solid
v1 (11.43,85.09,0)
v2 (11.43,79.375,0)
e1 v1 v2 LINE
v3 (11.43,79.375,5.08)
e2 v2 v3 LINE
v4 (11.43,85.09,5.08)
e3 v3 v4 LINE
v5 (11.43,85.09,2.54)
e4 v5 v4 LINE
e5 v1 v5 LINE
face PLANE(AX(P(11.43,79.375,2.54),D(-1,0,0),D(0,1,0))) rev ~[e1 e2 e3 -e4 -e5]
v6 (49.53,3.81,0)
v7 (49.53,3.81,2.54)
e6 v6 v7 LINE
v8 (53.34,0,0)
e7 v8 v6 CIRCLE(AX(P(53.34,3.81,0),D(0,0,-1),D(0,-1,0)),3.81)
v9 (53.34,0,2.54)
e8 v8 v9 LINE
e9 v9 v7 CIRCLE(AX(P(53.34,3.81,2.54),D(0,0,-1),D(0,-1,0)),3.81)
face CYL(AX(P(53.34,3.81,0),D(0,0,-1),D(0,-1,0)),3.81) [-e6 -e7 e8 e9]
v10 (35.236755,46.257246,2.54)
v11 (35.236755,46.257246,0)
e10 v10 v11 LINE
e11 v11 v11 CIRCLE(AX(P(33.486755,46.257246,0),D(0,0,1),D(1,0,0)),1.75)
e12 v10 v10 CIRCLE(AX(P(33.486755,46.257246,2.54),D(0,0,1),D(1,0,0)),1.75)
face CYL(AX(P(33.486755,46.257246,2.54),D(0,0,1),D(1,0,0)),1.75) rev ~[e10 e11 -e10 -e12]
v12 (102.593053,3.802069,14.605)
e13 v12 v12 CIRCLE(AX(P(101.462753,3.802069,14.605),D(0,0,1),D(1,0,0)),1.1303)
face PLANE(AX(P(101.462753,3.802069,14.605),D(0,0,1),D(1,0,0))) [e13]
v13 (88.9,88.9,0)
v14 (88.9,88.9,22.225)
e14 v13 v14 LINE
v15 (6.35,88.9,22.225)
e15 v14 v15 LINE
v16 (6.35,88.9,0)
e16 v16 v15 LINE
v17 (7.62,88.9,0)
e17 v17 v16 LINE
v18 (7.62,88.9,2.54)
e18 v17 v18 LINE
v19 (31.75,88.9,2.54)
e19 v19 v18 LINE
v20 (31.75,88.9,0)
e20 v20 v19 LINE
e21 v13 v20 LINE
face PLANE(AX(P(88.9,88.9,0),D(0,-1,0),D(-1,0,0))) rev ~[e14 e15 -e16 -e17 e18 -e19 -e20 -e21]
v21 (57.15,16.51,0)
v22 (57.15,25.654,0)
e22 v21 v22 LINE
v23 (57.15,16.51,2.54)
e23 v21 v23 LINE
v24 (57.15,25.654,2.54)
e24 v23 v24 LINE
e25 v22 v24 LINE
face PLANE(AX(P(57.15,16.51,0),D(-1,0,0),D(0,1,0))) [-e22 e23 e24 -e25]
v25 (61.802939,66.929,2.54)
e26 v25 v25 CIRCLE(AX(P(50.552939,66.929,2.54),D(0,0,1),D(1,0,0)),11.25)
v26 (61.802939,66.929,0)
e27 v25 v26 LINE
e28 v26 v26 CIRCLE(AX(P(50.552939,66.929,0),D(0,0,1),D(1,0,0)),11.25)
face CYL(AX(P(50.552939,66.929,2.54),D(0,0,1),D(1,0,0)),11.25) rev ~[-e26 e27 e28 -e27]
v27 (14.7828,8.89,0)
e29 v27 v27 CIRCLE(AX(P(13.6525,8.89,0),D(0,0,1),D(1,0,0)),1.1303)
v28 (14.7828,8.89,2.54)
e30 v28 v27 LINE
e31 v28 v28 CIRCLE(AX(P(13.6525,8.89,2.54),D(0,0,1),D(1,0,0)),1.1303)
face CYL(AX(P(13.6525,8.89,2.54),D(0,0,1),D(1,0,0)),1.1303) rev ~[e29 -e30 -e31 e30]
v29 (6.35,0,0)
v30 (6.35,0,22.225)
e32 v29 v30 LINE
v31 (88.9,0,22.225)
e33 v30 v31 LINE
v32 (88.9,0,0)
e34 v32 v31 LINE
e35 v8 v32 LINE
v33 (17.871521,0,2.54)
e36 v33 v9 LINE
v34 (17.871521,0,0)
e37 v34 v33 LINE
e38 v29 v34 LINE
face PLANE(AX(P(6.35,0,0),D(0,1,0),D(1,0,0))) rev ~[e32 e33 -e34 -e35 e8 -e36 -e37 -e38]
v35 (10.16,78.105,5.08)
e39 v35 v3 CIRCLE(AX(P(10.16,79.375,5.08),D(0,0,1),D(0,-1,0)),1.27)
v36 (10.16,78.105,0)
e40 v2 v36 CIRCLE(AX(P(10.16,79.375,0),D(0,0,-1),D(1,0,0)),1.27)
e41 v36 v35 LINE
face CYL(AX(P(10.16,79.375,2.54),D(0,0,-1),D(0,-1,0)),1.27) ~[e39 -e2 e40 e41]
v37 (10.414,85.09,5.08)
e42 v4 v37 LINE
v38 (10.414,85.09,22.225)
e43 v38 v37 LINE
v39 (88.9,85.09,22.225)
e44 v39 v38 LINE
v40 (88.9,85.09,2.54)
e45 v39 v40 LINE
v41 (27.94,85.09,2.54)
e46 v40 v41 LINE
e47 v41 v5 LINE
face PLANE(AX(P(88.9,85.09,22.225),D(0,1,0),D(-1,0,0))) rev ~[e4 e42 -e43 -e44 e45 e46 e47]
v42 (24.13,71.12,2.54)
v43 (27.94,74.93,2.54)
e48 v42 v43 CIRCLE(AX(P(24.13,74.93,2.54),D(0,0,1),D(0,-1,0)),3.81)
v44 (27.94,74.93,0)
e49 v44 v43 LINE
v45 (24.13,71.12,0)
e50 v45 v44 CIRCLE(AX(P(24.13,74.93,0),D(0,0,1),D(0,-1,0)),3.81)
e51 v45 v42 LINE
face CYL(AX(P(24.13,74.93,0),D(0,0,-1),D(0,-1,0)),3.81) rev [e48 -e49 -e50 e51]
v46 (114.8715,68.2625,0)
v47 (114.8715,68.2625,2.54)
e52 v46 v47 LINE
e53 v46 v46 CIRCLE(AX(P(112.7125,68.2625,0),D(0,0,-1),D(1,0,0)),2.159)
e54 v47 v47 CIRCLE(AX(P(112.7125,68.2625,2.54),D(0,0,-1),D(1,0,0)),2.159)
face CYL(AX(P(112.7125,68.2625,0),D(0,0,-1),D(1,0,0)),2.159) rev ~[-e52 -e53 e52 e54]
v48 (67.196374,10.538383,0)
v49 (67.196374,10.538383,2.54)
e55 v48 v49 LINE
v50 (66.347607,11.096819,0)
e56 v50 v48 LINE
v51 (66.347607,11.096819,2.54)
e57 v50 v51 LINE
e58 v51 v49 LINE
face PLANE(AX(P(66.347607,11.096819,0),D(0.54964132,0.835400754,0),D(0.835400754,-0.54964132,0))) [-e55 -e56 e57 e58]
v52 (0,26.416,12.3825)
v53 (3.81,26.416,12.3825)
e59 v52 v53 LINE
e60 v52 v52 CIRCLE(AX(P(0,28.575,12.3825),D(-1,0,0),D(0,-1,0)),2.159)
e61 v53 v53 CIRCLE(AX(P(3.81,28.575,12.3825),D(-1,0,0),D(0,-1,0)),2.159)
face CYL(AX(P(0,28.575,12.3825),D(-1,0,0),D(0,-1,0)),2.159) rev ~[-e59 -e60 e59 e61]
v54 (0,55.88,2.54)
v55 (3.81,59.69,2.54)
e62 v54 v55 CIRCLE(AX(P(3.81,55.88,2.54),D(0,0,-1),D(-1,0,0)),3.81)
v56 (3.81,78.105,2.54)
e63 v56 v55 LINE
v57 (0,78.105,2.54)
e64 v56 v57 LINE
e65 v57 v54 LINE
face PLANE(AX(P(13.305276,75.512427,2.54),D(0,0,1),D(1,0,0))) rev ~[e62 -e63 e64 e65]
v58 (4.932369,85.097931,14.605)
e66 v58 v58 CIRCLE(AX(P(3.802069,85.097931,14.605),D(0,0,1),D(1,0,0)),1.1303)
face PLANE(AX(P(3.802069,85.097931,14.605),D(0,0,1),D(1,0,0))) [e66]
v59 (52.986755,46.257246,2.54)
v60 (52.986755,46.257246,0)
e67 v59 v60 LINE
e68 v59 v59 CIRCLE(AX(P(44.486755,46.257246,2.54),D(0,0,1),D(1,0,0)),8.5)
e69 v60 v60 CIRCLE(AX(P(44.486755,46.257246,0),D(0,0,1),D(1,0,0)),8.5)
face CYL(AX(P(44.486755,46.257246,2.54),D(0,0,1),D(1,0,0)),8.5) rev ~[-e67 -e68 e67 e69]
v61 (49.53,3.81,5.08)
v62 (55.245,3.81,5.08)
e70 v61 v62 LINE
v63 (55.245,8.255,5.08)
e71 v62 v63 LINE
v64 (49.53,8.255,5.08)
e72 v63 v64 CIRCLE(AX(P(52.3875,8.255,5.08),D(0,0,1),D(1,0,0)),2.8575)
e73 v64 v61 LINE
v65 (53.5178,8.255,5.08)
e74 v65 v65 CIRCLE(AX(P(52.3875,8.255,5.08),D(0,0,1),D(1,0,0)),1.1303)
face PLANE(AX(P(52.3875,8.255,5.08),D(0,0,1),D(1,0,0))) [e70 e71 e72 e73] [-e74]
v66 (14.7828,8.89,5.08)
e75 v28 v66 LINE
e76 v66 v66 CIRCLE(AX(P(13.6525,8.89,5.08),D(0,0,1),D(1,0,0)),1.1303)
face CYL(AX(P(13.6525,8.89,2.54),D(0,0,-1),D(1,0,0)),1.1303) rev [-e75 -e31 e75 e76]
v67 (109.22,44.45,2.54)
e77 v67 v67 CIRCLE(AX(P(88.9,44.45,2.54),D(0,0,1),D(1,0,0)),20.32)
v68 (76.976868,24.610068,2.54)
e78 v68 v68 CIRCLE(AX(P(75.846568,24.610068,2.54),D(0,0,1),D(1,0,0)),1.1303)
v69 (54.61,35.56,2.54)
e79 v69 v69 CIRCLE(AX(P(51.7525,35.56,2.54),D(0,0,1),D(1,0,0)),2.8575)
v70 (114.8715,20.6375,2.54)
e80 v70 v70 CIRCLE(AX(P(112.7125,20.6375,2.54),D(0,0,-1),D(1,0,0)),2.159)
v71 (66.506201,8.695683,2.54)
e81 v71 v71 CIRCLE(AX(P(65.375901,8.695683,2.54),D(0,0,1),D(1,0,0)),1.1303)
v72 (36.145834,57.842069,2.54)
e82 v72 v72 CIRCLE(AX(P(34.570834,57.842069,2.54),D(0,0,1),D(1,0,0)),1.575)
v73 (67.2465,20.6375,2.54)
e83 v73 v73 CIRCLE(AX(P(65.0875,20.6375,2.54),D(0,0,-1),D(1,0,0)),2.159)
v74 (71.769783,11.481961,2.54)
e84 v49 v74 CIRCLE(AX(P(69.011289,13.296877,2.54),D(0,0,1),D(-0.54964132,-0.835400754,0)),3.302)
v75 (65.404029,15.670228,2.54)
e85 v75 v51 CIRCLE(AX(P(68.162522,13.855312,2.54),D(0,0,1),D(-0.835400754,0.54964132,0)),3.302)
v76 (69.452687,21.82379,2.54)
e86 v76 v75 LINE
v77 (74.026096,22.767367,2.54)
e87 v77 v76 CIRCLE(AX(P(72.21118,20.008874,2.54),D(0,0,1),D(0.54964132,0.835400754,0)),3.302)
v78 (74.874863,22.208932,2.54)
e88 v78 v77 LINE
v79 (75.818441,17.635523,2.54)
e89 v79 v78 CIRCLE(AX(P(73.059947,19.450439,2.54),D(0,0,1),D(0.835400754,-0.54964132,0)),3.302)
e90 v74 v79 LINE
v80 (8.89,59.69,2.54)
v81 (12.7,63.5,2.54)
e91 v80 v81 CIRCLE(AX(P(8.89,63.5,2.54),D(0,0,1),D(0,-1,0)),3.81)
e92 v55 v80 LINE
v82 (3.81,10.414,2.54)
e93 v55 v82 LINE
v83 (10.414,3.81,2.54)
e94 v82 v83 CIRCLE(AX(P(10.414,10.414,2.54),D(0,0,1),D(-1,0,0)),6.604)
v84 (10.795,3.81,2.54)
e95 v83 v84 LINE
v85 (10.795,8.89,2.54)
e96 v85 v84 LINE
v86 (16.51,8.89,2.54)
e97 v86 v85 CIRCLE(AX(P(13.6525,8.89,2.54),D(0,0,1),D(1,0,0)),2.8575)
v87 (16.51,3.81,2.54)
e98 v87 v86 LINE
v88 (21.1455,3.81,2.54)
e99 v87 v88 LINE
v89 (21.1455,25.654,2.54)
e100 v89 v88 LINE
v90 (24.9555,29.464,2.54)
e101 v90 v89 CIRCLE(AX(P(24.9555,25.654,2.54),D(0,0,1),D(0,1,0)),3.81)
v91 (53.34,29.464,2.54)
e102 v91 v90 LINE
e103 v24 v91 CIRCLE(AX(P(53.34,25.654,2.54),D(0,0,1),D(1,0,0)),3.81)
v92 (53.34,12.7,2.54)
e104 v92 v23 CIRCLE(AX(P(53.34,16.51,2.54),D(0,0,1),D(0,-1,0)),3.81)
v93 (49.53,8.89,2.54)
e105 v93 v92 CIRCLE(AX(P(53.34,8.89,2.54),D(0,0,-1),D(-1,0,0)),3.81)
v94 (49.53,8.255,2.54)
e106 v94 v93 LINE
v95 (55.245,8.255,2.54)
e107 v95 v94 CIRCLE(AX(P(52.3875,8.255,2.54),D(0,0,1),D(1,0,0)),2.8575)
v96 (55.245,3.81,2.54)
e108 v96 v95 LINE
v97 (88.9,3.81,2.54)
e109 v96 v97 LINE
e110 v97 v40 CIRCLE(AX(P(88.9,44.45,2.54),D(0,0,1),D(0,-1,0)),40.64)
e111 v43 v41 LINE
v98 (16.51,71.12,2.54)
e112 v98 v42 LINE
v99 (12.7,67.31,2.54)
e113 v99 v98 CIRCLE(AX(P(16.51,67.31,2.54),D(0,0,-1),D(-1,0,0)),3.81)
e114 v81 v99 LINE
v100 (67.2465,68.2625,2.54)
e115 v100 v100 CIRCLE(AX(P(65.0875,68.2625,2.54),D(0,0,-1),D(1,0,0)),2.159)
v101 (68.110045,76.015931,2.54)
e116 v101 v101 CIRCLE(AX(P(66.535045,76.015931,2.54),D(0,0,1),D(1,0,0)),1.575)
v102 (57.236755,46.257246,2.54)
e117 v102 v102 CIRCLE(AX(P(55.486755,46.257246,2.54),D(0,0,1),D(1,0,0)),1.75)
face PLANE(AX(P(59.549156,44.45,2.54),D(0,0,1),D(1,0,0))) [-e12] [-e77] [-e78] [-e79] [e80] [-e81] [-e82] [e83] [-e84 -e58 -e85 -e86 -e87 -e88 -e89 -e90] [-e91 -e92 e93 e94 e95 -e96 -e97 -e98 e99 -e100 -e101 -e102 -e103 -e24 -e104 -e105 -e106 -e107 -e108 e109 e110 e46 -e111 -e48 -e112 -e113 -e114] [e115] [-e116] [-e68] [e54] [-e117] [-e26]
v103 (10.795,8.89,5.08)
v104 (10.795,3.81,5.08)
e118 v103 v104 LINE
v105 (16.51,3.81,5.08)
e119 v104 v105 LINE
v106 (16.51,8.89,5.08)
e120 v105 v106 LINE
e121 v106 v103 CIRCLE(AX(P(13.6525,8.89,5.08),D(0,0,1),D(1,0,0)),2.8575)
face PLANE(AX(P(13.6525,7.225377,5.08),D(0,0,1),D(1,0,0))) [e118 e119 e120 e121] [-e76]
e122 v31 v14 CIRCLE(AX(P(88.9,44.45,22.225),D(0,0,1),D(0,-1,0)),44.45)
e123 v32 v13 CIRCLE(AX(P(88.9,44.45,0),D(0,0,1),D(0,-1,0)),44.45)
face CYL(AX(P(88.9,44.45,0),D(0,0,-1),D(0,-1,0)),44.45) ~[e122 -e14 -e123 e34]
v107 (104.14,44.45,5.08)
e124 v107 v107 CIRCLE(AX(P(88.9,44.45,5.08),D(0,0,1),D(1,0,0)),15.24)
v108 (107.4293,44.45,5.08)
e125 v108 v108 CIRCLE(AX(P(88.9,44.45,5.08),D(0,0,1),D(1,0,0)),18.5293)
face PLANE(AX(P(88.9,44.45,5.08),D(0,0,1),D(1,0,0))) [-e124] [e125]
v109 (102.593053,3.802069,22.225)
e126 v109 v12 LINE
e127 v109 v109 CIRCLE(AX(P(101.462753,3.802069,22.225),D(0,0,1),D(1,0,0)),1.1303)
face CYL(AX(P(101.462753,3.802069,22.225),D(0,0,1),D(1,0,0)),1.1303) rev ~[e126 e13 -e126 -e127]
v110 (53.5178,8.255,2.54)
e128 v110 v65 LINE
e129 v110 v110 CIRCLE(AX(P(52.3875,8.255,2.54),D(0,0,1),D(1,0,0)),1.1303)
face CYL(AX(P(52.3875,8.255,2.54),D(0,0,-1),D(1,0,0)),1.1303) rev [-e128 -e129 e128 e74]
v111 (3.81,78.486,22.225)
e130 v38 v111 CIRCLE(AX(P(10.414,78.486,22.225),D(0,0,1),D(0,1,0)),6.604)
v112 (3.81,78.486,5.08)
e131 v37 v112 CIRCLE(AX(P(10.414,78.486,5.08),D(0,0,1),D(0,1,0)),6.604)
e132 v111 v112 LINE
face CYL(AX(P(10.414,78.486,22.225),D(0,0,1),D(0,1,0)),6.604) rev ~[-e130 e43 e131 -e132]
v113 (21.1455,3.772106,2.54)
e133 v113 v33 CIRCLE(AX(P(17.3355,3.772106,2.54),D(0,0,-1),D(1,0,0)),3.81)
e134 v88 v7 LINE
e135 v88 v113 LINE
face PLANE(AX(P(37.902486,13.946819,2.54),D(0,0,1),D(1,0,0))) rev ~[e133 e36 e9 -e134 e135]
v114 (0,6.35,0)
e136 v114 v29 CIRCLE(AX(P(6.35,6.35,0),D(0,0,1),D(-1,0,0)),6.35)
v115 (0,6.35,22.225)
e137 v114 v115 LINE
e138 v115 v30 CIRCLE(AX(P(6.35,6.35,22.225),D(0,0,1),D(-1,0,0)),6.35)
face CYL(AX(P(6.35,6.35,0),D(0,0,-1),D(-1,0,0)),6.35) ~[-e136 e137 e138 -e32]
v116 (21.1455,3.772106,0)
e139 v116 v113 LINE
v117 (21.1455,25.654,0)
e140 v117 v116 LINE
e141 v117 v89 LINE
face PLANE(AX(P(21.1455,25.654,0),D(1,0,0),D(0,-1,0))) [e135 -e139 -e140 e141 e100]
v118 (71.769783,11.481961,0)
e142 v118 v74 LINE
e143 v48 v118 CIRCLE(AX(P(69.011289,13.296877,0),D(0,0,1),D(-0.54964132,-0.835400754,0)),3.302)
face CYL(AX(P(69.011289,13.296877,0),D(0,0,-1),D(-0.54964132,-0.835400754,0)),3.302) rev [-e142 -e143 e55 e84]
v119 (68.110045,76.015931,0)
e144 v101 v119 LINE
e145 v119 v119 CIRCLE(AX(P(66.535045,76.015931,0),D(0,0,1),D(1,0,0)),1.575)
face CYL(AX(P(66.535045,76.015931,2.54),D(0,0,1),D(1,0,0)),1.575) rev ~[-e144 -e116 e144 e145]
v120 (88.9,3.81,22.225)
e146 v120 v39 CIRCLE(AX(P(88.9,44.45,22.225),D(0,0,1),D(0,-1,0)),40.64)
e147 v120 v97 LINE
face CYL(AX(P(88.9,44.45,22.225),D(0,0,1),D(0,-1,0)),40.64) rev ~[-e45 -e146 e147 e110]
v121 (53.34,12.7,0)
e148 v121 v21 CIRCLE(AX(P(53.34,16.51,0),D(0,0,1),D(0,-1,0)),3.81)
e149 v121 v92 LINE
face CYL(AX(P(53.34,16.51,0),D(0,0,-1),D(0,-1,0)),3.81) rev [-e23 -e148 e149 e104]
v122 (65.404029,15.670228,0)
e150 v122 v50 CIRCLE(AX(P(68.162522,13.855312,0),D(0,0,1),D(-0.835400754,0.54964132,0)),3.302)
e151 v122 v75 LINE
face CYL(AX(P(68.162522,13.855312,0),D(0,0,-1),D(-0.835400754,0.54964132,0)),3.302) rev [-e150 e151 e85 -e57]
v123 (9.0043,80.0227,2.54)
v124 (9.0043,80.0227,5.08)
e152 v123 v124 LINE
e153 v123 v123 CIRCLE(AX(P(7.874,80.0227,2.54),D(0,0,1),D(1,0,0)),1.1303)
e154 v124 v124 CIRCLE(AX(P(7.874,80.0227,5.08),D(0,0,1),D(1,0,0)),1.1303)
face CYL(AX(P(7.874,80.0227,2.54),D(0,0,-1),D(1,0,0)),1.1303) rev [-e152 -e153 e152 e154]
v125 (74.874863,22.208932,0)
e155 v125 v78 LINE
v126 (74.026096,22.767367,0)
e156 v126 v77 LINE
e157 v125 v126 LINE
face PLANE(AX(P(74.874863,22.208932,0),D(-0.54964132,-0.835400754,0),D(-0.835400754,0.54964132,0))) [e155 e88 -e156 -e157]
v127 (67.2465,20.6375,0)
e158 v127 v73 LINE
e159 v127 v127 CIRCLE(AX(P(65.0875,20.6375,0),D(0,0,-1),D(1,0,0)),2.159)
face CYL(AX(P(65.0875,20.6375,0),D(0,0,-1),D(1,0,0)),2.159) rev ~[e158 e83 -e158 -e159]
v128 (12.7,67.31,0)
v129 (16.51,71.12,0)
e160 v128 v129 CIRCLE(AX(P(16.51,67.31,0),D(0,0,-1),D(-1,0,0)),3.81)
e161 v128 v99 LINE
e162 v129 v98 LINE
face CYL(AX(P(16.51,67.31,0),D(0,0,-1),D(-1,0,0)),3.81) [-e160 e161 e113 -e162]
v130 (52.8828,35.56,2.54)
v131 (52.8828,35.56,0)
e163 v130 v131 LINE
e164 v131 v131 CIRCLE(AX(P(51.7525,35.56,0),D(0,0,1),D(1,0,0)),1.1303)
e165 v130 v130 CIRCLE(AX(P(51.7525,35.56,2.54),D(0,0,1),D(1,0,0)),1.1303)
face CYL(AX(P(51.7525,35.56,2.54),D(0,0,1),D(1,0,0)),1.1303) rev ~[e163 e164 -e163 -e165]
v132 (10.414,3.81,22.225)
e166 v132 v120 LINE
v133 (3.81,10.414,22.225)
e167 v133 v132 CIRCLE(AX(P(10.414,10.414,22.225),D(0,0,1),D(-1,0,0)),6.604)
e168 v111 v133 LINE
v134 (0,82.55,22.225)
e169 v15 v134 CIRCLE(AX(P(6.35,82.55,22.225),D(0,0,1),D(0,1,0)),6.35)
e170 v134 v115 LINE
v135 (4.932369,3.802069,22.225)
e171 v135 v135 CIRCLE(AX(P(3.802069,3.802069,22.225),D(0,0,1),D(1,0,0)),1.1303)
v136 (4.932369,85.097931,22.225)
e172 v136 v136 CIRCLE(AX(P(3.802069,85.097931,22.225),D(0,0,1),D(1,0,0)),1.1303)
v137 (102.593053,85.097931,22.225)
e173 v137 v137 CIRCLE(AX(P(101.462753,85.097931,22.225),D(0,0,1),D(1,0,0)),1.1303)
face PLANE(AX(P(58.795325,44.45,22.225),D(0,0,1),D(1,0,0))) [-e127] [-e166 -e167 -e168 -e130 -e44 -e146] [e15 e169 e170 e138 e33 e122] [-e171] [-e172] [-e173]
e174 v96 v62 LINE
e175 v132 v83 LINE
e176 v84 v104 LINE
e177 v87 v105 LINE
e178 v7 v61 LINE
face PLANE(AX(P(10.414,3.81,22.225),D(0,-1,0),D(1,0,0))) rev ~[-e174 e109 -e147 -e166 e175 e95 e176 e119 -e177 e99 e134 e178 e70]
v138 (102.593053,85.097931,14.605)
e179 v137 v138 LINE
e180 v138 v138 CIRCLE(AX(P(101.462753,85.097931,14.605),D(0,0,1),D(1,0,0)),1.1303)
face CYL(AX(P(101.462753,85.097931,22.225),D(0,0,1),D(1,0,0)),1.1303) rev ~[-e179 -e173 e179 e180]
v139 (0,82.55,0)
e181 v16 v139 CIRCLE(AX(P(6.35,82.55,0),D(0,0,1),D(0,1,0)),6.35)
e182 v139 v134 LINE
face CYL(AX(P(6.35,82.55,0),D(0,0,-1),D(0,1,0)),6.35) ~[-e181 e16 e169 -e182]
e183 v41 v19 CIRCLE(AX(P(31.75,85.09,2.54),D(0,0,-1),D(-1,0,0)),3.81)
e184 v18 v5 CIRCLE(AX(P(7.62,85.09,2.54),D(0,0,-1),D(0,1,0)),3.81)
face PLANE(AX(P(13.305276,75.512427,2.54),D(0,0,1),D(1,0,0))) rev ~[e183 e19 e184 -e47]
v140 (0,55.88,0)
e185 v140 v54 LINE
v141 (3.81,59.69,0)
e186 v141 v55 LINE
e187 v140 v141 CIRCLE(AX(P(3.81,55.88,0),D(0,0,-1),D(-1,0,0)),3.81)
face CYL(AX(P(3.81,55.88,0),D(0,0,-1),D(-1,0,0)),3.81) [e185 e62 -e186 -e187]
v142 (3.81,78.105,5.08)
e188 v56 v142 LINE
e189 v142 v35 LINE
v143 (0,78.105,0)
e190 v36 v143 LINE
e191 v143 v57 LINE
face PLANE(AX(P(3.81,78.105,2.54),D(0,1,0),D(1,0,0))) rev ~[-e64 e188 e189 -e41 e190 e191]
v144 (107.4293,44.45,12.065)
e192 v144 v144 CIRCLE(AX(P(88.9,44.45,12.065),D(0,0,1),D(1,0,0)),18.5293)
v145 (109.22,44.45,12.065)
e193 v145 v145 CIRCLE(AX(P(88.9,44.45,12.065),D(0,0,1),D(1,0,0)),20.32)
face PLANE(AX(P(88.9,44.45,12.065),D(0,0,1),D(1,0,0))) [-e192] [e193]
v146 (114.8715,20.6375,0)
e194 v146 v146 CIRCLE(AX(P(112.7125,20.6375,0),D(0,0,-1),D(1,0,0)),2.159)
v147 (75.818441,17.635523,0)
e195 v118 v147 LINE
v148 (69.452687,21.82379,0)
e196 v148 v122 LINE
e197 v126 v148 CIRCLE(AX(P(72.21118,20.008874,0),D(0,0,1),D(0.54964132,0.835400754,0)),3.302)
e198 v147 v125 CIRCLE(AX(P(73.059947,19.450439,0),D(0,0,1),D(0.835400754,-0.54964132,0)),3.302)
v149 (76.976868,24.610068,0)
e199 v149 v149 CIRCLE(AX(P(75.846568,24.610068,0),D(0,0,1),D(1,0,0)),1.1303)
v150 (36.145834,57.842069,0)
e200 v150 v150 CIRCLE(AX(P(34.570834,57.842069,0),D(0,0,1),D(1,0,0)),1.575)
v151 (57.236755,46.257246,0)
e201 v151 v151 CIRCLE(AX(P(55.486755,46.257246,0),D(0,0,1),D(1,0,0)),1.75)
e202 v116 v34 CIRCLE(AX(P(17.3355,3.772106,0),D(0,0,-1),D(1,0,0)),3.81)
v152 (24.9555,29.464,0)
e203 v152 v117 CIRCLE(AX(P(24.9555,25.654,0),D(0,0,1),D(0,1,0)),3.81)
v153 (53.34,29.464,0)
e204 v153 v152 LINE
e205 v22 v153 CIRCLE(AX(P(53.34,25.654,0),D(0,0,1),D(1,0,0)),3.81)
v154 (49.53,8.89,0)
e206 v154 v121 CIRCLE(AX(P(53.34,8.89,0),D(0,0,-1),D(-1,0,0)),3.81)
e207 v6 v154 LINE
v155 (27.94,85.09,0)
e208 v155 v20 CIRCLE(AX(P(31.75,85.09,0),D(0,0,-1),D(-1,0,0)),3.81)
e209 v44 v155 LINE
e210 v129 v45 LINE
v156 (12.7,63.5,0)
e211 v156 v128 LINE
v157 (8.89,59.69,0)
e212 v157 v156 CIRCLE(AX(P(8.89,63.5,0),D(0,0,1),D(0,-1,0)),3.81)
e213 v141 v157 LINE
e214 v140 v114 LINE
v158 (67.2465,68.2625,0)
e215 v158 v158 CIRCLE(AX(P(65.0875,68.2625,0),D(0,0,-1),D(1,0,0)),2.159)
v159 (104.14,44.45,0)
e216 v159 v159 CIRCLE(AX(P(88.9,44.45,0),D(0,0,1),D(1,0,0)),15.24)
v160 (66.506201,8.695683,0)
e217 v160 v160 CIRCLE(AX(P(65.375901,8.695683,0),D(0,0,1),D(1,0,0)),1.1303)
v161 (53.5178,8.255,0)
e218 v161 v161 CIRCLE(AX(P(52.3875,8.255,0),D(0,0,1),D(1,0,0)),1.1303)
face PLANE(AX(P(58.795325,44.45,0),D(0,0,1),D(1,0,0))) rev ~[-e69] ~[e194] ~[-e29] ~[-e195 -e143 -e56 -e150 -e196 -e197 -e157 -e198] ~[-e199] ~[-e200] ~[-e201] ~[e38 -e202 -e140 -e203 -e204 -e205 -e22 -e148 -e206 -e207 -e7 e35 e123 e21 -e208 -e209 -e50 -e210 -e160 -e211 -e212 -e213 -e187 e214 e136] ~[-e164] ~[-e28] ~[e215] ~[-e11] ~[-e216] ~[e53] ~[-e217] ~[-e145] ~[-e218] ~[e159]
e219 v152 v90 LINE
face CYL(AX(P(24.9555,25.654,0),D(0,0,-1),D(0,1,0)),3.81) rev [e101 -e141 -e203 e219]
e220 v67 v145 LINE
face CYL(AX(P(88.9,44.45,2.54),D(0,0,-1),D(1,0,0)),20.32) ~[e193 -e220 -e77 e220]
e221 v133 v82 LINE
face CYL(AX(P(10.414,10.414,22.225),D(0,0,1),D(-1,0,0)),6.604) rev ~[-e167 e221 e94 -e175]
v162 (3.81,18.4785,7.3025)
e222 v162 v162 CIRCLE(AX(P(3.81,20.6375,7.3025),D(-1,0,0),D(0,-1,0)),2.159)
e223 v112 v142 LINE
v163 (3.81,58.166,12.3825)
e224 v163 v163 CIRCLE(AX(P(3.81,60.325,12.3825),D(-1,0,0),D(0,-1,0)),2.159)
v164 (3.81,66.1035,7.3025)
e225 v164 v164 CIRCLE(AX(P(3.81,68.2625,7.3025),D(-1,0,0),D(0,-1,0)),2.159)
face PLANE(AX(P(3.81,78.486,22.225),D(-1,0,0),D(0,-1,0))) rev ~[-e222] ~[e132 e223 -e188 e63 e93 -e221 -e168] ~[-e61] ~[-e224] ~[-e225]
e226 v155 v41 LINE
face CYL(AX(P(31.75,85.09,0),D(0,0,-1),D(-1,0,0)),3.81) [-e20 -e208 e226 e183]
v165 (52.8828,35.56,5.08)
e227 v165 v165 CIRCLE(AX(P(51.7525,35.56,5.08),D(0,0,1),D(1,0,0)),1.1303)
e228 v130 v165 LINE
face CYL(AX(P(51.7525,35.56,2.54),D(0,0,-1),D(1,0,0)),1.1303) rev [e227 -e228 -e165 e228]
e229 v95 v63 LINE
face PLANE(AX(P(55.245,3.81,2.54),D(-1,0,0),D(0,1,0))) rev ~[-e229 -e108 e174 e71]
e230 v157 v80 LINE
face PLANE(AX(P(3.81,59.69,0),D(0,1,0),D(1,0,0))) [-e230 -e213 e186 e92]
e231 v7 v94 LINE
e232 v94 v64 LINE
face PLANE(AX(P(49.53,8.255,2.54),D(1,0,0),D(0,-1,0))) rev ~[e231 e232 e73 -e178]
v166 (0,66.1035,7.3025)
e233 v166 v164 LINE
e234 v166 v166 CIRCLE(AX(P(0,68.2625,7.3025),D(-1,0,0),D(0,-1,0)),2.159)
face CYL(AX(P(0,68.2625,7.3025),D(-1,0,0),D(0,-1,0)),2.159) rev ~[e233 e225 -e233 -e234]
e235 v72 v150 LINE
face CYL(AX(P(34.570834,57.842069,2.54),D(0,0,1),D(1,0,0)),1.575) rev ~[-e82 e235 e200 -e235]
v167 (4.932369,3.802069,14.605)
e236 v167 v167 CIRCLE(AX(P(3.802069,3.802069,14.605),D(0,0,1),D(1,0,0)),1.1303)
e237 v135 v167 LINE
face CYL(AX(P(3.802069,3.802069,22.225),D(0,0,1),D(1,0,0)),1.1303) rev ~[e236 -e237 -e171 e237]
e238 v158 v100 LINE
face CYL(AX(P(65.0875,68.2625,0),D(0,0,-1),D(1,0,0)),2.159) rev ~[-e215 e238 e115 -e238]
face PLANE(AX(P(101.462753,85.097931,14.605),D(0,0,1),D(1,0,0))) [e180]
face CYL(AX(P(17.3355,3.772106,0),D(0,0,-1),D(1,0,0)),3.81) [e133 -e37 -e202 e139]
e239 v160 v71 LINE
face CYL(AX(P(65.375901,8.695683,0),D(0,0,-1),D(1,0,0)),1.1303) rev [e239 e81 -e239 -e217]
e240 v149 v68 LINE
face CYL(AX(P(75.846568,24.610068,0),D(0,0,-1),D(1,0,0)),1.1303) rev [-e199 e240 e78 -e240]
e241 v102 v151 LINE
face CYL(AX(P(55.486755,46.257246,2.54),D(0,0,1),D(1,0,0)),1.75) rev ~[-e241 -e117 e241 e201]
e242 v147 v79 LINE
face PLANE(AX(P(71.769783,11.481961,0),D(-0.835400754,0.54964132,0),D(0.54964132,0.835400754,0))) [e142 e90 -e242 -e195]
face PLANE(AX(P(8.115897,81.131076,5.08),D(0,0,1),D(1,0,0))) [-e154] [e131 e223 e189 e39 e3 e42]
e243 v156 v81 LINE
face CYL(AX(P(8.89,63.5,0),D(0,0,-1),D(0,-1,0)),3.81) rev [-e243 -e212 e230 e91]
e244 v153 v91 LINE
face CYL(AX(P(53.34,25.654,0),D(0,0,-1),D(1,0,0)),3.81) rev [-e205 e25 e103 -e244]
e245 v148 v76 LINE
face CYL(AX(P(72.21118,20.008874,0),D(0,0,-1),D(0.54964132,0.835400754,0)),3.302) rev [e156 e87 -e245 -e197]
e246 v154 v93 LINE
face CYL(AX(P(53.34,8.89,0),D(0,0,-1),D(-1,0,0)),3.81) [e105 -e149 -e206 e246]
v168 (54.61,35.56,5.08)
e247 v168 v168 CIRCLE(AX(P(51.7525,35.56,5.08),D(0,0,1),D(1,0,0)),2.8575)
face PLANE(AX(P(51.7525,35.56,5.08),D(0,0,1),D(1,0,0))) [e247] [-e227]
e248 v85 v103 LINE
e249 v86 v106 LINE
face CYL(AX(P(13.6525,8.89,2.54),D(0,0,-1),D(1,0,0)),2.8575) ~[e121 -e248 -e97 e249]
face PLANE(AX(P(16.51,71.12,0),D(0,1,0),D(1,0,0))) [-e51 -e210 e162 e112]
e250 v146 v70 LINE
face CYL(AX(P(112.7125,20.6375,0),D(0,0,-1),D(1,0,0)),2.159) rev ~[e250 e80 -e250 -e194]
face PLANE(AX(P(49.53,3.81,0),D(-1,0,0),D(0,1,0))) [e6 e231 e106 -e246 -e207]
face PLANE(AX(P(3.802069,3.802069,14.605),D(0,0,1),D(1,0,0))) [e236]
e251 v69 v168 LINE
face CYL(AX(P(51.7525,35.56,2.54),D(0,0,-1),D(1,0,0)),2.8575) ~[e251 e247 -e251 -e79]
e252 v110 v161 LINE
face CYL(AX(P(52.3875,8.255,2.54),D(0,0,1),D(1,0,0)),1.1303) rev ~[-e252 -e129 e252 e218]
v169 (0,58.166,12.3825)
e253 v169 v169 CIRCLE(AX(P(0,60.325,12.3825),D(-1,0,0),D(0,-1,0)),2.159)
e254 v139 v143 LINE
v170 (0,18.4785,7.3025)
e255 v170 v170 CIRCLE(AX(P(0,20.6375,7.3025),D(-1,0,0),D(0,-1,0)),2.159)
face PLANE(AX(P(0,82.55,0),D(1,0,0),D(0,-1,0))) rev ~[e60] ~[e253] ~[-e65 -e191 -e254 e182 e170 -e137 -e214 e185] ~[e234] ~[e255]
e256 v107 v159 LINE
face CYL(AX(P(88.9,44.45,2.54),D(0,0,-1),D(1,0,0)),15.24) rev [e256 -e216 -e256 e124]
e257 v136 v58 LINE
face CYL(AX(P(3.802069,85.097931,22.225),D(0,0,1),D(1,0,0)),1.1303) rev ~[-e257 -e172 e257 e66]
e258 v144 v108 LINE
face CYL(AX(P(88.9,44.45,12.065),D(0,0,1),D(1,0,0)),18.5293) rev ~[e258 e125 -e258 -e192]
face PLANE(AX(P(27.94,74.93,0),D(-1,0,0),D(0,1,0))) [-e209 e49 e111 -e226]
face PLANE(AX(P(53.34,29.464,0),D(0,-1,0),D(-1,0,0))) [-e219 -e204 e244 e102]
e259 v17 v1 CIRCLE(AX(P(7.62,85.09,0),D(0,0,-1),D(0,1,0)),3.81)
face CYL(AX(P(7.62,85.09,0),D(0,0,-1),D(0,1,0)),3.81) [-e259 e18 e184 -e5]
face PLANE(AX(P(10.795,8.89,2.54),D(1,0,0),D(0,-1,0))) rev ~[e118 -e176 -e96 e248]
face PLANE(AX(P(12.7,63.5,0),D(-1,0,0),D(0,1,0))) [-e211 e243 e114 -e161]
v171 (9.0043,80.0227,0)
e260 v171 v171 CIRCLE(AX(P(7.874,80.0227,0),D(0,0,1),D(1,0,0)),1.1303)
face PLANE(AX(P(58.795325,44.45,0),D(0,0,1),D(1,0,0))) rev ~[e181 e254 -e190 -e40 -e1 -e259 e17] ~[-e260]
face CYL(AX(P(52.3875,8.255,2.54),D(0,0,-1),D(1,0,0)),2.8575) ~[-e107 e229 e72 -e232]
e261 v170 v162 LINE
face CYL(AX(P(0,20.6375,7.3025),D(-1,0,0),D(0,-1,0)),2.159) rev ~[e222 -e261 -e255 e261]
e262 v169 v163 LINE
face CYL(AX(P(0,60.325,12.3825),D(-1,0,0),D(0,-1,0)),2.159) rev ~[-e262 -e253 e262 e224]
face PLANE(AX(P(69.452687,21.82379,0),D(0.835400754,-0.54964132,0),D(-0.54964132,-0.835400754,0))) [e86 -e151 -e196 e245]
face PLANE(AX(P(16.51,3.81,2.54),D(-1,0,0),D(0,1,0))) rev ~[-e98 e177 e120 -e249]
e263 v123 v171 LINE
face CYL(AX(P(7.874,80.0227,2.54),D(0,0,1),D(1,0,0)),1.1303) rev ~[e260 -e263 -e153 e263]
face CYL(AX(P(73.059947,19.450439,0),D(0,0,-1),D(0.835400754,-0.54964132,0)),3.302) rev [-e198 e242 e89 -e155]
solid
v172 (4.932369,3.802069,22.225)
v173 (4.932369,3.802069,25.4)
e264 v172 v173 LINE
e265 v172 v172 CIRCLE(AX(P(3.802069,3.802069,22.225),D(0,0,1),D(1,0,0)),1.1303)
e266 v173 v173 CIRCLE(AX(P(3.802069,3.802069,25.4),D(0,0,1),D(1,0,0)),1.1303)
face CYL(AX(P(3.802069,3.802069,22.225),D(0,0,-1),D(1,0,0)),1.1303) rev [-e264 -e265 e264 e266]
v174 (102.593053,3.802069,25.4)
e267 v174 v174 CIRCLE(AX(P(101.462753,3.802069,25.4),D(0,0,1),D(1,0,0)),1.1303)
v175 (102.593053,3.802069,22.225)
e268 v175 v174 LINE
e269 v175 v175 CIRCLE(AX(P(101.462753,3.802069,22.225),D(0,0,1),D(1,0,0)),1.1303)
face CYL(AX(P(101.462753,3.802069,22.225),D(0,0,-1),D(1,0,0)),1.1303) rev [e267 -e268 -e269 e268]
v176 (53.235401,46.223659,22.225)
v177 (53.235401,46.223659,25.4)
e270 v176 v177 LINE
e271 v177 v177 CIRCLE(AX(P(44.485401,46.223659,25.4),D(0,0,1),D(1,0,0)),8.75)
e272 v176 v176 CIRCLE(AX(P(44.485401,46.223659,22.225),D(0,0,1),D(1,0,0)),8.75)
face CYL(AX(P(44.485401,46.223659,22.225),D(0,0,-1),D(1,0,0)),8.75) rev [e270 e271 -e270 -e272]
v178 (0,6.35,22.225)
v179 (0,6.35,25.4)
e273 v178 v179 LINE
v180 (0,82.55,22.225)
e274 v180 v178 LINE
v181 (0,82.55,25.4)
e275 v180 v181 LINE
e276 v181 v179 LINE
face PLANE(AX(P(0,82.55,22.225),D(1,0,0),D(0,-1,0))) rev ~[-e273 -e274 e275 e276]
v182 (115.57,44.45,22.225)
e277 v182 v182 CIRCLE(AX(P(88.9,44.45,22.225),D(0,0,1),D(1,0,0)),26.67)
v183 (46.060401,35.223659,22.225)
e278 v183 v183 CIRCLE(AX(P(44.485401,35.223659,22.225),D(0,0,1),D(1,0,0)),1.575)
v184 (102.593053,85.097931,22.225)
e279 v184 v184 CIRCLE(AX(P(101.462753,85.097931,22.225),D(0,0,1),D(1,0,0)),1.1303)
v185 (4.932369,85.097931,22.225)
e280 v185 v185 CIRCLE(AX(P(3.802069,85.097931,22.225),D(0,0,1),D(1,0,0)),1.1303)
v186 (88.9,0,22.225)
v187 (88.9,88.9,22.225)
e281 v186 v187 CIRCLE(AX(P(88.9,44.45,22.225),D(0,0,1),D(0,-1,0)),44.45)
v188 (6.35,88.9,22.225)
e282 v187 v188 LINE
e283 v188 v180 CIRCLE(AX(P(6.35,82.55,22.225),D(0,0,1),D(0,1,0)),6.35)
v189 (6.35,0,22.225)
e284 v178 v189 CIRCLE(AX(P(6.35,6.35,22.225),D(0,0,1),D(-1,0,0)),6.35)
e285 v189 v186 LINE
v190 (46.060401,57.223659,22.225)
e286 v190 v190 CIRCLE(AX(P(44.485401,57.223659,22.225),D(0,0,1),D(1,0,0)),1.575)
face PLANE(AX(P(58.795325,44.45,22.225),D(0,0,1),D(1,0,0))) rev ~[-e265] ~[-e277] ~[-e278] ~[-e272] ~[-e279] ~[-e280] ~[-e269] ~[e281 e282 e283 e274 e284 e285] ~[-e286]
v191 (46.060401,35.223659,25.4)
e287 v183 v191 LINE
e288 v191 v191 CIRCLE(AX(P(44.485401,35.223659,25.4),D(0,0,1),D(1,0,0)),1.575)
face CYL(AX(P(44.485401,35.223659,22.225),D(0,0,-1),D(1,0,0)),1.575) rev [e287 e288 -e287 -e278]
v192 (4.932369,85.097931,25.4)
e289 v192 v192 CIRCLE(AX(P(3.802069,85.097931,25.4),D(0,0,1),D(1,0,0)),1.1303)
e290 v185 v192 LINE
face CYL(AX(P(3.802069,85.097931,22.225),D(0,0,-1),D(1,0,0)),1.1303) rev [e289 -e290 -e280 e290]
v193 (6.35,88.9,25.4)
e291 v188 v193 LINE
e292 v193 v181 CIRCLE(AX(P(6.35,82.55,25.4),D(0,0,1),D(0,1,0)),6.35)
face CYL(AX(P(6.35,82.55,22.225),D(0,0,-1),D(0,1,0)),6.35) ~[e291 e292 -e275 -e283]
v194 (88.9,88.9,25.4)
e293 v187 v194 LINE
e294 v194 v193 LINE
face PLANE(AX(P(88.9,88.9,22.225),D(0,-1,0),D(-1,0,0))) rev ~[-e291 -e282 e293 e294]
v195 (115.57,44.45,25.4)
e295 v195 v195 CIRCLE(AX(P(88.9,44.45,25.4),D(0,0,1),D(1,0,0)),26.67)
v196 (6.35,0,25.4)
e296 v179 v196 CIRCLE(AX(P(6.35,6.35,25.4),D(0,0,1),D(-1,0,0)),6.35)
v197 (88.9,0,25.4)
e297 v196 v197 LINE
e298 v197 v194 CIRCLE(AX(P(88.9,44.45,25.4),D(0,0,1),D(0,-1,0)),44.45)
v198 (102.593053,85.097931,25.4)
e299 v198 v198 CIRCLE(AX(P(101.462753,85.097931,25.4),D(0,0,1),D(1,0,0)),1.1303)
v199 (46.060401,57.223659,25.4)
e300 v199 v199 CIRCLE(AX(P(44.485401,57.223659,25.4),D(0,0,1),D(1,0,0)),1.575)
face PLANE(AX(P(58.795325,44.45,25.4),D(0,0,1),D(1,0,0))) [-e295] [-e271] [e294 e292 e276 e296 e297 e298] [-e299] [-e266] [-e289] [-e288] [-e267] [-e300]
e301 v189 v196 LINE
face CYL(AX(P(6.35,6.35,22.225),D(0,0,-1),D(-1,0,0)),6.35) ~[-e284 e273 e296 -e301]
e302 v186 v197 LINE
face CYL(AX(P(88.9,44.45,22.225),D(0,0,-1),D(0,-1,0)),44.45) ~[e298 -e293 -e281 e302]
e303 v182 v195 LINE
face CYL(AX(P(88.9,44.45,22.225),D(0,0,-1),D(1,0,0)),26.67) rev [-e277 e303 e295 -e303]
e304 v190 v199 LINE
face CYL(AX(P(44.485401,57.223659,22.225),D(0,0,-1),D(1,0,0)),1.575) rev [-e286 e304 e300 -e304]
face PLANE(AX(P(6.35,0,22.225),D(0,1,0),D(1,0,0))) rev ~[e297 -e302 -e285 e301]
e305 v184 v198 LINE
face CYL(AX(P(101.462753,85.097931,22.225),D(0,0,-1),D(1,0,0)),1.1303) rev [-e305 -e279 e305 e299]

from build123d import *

# Parameters (mm, degrees)
F0_R      = 15.24
F1_DEPTH  = 22.225
F2_R      = 15.24
F3_DEPTH  = 19.685
F4_R      = 20.32
F4_R_2    = 15.24
F5_DEPTH  = 9.525
F6_R      = 18.5293
F6_R_2    = 15.24
F7_DEPTH  = 6.985
F8_R      = 1.1303
F9_DEPTH  = 7.62
F10_R     = 8.5
F10_R_2   = 1.75
F10_R_3   = 11.25
F10_R_4   = 1.575
F10_R_5   = 1.1303
F11_DEPTH = 25.4
F12_R     = 1.1303
F12_R_2   = 1.575
F12_R_3   = 8.75
F12_R_4   = 26.67
F13_DEPTH = 3.175
F14_R     = 2.159
F15_DEPTH = 3.81
F16_R     = 2.159
F17_DEPTH = 22.225
F20_R     = 1.1303
F21_DEPTH = 2.54
F22_R     = 1.1303
F22_R_2   = 2.8575
F23_DEPTH = 2.54


with BuildPart() as f1:
    # F0 (on Top) → F1 (new body)
    with BuildSketch(Plane.XY):
        with BuildLine():
            ThreePointArc((0, 6.35), (1.8598719395, 1.8598719395), (6.35, 0))
            Line((6.35, 0), (88.9, 0))
            ThreePointArc((88.9, 0), (133.35, 44.45), (88.9, 88.9))
            Line((88.9, 88.9), (6.35, 88.9))
            ThreePointArc((6.35, 88.9), (1.8598719395, 87.0401280605), (0, 82.55))
            Line((0, 82.55), (0, 6.35))
        make_face()
        with Locations((88.9, 44.45)):
            Circle(F0_R, mode=Mode.SUBTRACT)
    extrude(amount=F1_DEPTH)

    # F2 (on face) → F3 (cut)
    with BuildSketch(Plane.XY.offset(22.225)):
        with BuildLine():
            Line((88.9, 85.09), (10.414, 85.09))
            ThreePointArc((10.414, 85.09), (5.744266817, 83.155733183), (3.81, 78.486))
            Line((3.81, 78.486), (3.81, 10.414))
            ThreePointArc((3.81, 10.414), (5.744266817, 5.744266817), (10.414, 3.81))
            Line((10.414, 3.81), (88.9, 3.81))
            ThreePointArc((88.9, 3.81), (129.54, 44.45), (88.9, 85.09))
        make_face()
        with Locations((88.9, 44.45)):
            Circle(F2_R, mode=Mode.SUBTRACT)
        with Locations((88.9, 44.45)):
            Circle(F2_R)
    extrude(amount=-F3_DEPTH, mode=Mode.SUBTRACT)

    # F4 (on face) → F5 (join)
    with BuildSketch(Plane.XY.offset(2.54)):
        with Locations((88.9, 44.45)):
            Circle(F4_R)
        with Locations((88.9, 44.45)):
            Circle(F4_R_2, mode=Mode.SUBTRACT)
    extrude(amount=F5_DEPTH)

    # F6 (on face) → F7 (cut)
    with BuildSketch(Plane.XY.offset(12.065)):
        with Locations((88.9, 44.45)):
            Circle(F6_R)
        with Locations((88.9, 44.45)):
            Circle(F6_R_2, mode=Mode.SUBTRACT)
    extrude(amount=-F7_DEPTH, mode=Mode.SUBTRACT)

    # F8 (on face) → F9 (cut)
    with BuildSketch(Plane.XY.offset(22.225)):
        with Locations((3.8020693783, 85.0979306217)):
            Circle(F8_R)
        with Locations((3.8020693783, 3.8020693783)):
            Circle(F8_R)
        with Locations((101.4627529296, 3.8020693783)):
            Circle(F8_R)
        with Locations((101.4627529296, 85.0979306217)):
            Circle(F8_R)
    extrude(amount=-F9_DEPTH, mode=Mode.SUBTRACT)

    # F10 (on face) → F11 (cut)
    with BuildSketch(Plane.XY.offset(2.54)):
        with Locations((44.4867546653, 46.2572462039)):
            Circle(F10_R)
        with Locations((33.4867546653, 46.2572462039)):
            Circle(F10_R_2)
        with Locations((55.4867546653, 46.2572462039)):
            Circle(F10_R_2)
        with Locations((50.5529393695, 66.929)):
            Circle(F10_R_3)
        with Locations((66.5350447793, 76.0159305416)):
            Circle(F10_R_4)
        with Locations((34.5708339596, 57.8420694584)):
            Circle(F10_R_4)
        with Locations((13.6525, 8.89)):
            Circle(F10_R_5)
        with Locations((7.874, 80.0227)):
            Circle(F10_R_5)
        with Locations((52.3875, 8.255)):
            Circle(F10_R_5)
        with Locations((51.7525, 35.56)):
            Circle(F10_R_5)
    extrude(amount=-F11_DEPTH, mode=Mode.SUBTRACT)

    # F14 (on face) → F15 (cut, through all)
    with BuildSketch(Plane(origin=(0, 0, 0), x_dir=(0, -1, 0), z_dir=(-1, 0, 0))):
        with Locations((-68.2625, 7.3025)):
            Circle(F14_R)
        with Locations((-20.6375, 7.3025)):
            Circle(F14_R)
        with Locations((-60.325, 12.3825)):
            Circle(F14_R)
        with Locations((-28.575, 12.3825)):
            Circle(F14_R)
    extrude(amount=-F15_DEPTH, mode=Mode.SUBTRACT)

    # F16 (on face) → F17 (cut, through all)
    with BuildSketch(Plane(origin=(0, 0, 0), x_dir=(1, 0, 0), z_dir=(0, 0, -1))):
        with Locations((65.0875, -68.2625)):
            Circle(F16_R)
        with Locations((65.0875, -20.6375)):
            Circle(F16_R)
        with Locations((112.7125, -68.2625)):
            Circle(F16_R)
        with Locations((112.7125, -20.6375)):
            Circle(F16_R)
    extrude(amount=-F17_DEPTH, mode=Mode.SUBTRACT)

    # F20 (on face) → F21 (cut)
    with BuildSketch(Plane.XY):
        with BuildLine():
            ThreePointArc((21.1455, 3.7721056513), (20.2128548256, 1.274721178), (17.8715214133, 0))
            Line((17.8715214133, 0), (52.2168464959, 0))
            Line((52.2168464959, 0), (53.34, 0))
            ThreePointArc((53.34, 0), (50.6459231637, 1.1159231637), (49.53, 3.81))
            Line((49.53, 3.81), (49.53, 8.89))
            ThreePointArc((49.53, 8.89), (50.6459231637, 11.5840768363), (53.34, 12.7))
            ThreePointArc((53.34, 12.7), (56.0340768363, 13.8159231637), (57.15, 16.51))
            Line((57.15, 16.51), (57.15, 25.654))
            ThreePointArc((57.15, 25.654), (56.0340768363, 28.3480768363), (53.34, 29.464))
            Line((53.34, 29.464), (24.9555, 29.464))
            ThreePointArc((24.9555, 29.464), (22.2614231637, 28.3480768363), (21.1455, 25.654))
            Line((21.1455, 25.654), (21.1455, 3.7721056513))
        make_face()
        with BuildLine():
            ThreePointArc((0, 55.88), (1.1159231637, 58.5740768363), (3.81, 59.69))
            Line((3.81, 59.69), (8.89, 59.69))
            ThreePointArc((8.89, 59.69), (11.5840768363, 60.8059231637), (12.7, 63.5))
            Line((12.7, 63.5), (12.7, 67.31))
            ThreePointArc((12.7, 67.31), (13.8159231637, 70.0040768363), (16.51, 71.12))
            Line((16.51, 71.12), (24.13, 71.12))
            ThreePointArc((24.13, 71.12), (26.8240768363, 72.2359231637), (27.94, 74.93))
            Line((27.94, 74.93), (27.94, 85.09))
            ThreePointArc((27.94, 85.09), (29.0559231637, 87.7840768363), (31.75, 88.9))
            Line((31.75, 88.9), (7.62, 88.9))
            ThreePointArc((7.62, 88.9), (10.3140768363, 87.7840768363), (11.43, 85.09))
            Line((11.43, 85.09), (11.43, 79.375))
            ThreePointArc((11.43, 79.375), (11.0580256121, 78.4769743879), (10.16, 78.105))
            Line((10.16, 78.105), (0, 78.105))
            Line((0, 78.105), (0, 71.12))
            Line((0, 71.12), (0, 55.88))
        make_face()
        with BuildLine():
            Line((69.45268682, 21.8237897322), (65.4040288547, 15.6702277816))
            ThreePointArc((65.4040288547, 15.6702277816), (64.9286336769, 13.1881019881), (66.3476065033, 11.0968188538))
            Line((66.3476065033, 11.0968188538), (67.1963736689, 10.5383832724))
            ThreePointArc((67.1963736689, 10.5383832724), (69.6784994624, 10.0629880946), (71.7697825967, 11.481960921))
            Line((71.7697825967, 11.481960921), (75.818440562, 17.6355228716))
            ThreePointArc((75.818440562, 17.6355228716), (76.2938357398, 20.1176486651), (74.8748629135, 22.2089317994))
            Line((74.8748629135, 22.2089317994), (74.0260957479, 22.7673673808))
            ThreePointArc((74.0260957479, 22.7673673808), (71.5439699544, 23.2427625586), (69.45268682, 21.8237897322))
        make_face()
        with Locations((75.8465682842, 24.6100675041)):
            Circle(F20_R)
        with Locations((65.3759011325, 8.6956831491)):
            Circle(F20_R)
    extrude(amount=F21_DEPTH, mode=Mode.SUBTRACT)

    # F22 (on face) → F23 (join)
    with BuildSketch(Plane.XY.offset(2.54)):
        with BuildLine():
            Line((3.81, 78.486), (3.81, 78.105))
            Line((3.81, 78.105), (10.16, 78.105))
            ThreePointArc((10.16, 78.105), (11.0580256121, 78.4769743879), (11.43, 79.375))
            Line((11.43, 79.375), (11.43, 85.09))
            Line((11.43, 85.09), (10.414, 85.09))
            ThreePointArc((10.414, 85.09), (5.744266817, 83.155733183), (3.81, 78.486))
        make_face()
        with Locations((7.874, 80.0227)):
            Circle(F22_R, mode=Mode.SUBTRACT)
        with Locations((51.7525, 35.56)):
            Circle(F22_R_2)
        with Locations((51.7525, 35.56)):
            Circle(F22_R, mode=Mode.SUBTRACT)
        with BuildLine():
            ThreePointArc((49.53, 8.255), (52.3875, 5.3975), (55.245, 8.255))
            ThreePointArc((55.245, 8.255), (52.3875, 11.1125), (49.53, 8.255))
        make_face()
        with Locations((52.3875, 8.255)):
            Circle(F22_R, mode=Mode.SUBTRACT)
        with BuildLine():
            Line((55.245, 3.81), (55.245, 8.255))
            ThreePointArc((55.245, 8.255), (52.3875, 5.3975), (49.53, 8.255))
            Line((49.53, 8.255), (49.53, 3.81))
            Line((49.53, 3.81), (55.245, 3.81))
        make_face()
        with BuildLine():
            Line((16.51, 3.81), (16.51, 8.89))
            ThreePointArc((16.51, 8.89), (13.6525, 11.7475), (10.795, 8.89))
            Line((10.795, 8.89), (10.795, 3.81))
            Line((10.795, 3.81), (16.51, 3.81))
        make_face()
        with Locations((13.6525, 8.89)):
            Circle(F22_R, mode=Mode.SUBTRACT)
    extrude(amount=F23_DEPTH)


with BuildPart() as f13:
    # F12 (on face) → F13 (new body)
    with BuildSketch(Plane.XY.offset(22.225)):
        with BuildLine():
            Line((88.9, 88.9), (6.35, 88.9))
            ThreePointArc((6.35, 88.9), (1.8598719395, 87.0401280605), (0, 82.55))
            Line((0, 82.55), (0, 6.35))
            ThreePointArc((0, 6.35), (1.8598719395, 1.8598719395), (6.35, 0))
            Line((6.35, 0), (88.9, 0))
            ThreePointArc((88.9, 0), (133.35, 44.45), (88.9, 88.9))
        make_face()
        with Locations((3.8020693783, 3.8020693783)):
            Circle(F12_R, mode=Mode.SUBTRACT)
        with Locations((44.485400657, 35.2236587042)):
            Circle(F12_R_2, mode=Mode.SUBTRACT)
        with Locations((101.4627529296, 3.8020693783)):
            Circle(F12_R, mode=Mode.SUBTRACT)
        with Locations((44.485400657, 46.2236587042)):
            Circle(F12_R_3, mode=Mode.SUBTRACT)
        with Locations((44.485400657, 57.2236587042)):
            Circle(F12_R_2, mode=Mode.SUBTRACT)
        with Locations((3.8020693783, 85.0979306217)):
            Circle(F12_R, mode=Mode.SUBTRACT)
        with Locations((88.9, 44.45)):
            Circle(F12_R_4, mode=Mode.SUBTRACT)
        with Locations((101.4627529296, 85.0979306217)):
            Circle(F12_R, mode=Mode.SUBTRACT)
    extrude(amount=F13_DEPTH)


solid = Compound([f1.part, f13.part])
